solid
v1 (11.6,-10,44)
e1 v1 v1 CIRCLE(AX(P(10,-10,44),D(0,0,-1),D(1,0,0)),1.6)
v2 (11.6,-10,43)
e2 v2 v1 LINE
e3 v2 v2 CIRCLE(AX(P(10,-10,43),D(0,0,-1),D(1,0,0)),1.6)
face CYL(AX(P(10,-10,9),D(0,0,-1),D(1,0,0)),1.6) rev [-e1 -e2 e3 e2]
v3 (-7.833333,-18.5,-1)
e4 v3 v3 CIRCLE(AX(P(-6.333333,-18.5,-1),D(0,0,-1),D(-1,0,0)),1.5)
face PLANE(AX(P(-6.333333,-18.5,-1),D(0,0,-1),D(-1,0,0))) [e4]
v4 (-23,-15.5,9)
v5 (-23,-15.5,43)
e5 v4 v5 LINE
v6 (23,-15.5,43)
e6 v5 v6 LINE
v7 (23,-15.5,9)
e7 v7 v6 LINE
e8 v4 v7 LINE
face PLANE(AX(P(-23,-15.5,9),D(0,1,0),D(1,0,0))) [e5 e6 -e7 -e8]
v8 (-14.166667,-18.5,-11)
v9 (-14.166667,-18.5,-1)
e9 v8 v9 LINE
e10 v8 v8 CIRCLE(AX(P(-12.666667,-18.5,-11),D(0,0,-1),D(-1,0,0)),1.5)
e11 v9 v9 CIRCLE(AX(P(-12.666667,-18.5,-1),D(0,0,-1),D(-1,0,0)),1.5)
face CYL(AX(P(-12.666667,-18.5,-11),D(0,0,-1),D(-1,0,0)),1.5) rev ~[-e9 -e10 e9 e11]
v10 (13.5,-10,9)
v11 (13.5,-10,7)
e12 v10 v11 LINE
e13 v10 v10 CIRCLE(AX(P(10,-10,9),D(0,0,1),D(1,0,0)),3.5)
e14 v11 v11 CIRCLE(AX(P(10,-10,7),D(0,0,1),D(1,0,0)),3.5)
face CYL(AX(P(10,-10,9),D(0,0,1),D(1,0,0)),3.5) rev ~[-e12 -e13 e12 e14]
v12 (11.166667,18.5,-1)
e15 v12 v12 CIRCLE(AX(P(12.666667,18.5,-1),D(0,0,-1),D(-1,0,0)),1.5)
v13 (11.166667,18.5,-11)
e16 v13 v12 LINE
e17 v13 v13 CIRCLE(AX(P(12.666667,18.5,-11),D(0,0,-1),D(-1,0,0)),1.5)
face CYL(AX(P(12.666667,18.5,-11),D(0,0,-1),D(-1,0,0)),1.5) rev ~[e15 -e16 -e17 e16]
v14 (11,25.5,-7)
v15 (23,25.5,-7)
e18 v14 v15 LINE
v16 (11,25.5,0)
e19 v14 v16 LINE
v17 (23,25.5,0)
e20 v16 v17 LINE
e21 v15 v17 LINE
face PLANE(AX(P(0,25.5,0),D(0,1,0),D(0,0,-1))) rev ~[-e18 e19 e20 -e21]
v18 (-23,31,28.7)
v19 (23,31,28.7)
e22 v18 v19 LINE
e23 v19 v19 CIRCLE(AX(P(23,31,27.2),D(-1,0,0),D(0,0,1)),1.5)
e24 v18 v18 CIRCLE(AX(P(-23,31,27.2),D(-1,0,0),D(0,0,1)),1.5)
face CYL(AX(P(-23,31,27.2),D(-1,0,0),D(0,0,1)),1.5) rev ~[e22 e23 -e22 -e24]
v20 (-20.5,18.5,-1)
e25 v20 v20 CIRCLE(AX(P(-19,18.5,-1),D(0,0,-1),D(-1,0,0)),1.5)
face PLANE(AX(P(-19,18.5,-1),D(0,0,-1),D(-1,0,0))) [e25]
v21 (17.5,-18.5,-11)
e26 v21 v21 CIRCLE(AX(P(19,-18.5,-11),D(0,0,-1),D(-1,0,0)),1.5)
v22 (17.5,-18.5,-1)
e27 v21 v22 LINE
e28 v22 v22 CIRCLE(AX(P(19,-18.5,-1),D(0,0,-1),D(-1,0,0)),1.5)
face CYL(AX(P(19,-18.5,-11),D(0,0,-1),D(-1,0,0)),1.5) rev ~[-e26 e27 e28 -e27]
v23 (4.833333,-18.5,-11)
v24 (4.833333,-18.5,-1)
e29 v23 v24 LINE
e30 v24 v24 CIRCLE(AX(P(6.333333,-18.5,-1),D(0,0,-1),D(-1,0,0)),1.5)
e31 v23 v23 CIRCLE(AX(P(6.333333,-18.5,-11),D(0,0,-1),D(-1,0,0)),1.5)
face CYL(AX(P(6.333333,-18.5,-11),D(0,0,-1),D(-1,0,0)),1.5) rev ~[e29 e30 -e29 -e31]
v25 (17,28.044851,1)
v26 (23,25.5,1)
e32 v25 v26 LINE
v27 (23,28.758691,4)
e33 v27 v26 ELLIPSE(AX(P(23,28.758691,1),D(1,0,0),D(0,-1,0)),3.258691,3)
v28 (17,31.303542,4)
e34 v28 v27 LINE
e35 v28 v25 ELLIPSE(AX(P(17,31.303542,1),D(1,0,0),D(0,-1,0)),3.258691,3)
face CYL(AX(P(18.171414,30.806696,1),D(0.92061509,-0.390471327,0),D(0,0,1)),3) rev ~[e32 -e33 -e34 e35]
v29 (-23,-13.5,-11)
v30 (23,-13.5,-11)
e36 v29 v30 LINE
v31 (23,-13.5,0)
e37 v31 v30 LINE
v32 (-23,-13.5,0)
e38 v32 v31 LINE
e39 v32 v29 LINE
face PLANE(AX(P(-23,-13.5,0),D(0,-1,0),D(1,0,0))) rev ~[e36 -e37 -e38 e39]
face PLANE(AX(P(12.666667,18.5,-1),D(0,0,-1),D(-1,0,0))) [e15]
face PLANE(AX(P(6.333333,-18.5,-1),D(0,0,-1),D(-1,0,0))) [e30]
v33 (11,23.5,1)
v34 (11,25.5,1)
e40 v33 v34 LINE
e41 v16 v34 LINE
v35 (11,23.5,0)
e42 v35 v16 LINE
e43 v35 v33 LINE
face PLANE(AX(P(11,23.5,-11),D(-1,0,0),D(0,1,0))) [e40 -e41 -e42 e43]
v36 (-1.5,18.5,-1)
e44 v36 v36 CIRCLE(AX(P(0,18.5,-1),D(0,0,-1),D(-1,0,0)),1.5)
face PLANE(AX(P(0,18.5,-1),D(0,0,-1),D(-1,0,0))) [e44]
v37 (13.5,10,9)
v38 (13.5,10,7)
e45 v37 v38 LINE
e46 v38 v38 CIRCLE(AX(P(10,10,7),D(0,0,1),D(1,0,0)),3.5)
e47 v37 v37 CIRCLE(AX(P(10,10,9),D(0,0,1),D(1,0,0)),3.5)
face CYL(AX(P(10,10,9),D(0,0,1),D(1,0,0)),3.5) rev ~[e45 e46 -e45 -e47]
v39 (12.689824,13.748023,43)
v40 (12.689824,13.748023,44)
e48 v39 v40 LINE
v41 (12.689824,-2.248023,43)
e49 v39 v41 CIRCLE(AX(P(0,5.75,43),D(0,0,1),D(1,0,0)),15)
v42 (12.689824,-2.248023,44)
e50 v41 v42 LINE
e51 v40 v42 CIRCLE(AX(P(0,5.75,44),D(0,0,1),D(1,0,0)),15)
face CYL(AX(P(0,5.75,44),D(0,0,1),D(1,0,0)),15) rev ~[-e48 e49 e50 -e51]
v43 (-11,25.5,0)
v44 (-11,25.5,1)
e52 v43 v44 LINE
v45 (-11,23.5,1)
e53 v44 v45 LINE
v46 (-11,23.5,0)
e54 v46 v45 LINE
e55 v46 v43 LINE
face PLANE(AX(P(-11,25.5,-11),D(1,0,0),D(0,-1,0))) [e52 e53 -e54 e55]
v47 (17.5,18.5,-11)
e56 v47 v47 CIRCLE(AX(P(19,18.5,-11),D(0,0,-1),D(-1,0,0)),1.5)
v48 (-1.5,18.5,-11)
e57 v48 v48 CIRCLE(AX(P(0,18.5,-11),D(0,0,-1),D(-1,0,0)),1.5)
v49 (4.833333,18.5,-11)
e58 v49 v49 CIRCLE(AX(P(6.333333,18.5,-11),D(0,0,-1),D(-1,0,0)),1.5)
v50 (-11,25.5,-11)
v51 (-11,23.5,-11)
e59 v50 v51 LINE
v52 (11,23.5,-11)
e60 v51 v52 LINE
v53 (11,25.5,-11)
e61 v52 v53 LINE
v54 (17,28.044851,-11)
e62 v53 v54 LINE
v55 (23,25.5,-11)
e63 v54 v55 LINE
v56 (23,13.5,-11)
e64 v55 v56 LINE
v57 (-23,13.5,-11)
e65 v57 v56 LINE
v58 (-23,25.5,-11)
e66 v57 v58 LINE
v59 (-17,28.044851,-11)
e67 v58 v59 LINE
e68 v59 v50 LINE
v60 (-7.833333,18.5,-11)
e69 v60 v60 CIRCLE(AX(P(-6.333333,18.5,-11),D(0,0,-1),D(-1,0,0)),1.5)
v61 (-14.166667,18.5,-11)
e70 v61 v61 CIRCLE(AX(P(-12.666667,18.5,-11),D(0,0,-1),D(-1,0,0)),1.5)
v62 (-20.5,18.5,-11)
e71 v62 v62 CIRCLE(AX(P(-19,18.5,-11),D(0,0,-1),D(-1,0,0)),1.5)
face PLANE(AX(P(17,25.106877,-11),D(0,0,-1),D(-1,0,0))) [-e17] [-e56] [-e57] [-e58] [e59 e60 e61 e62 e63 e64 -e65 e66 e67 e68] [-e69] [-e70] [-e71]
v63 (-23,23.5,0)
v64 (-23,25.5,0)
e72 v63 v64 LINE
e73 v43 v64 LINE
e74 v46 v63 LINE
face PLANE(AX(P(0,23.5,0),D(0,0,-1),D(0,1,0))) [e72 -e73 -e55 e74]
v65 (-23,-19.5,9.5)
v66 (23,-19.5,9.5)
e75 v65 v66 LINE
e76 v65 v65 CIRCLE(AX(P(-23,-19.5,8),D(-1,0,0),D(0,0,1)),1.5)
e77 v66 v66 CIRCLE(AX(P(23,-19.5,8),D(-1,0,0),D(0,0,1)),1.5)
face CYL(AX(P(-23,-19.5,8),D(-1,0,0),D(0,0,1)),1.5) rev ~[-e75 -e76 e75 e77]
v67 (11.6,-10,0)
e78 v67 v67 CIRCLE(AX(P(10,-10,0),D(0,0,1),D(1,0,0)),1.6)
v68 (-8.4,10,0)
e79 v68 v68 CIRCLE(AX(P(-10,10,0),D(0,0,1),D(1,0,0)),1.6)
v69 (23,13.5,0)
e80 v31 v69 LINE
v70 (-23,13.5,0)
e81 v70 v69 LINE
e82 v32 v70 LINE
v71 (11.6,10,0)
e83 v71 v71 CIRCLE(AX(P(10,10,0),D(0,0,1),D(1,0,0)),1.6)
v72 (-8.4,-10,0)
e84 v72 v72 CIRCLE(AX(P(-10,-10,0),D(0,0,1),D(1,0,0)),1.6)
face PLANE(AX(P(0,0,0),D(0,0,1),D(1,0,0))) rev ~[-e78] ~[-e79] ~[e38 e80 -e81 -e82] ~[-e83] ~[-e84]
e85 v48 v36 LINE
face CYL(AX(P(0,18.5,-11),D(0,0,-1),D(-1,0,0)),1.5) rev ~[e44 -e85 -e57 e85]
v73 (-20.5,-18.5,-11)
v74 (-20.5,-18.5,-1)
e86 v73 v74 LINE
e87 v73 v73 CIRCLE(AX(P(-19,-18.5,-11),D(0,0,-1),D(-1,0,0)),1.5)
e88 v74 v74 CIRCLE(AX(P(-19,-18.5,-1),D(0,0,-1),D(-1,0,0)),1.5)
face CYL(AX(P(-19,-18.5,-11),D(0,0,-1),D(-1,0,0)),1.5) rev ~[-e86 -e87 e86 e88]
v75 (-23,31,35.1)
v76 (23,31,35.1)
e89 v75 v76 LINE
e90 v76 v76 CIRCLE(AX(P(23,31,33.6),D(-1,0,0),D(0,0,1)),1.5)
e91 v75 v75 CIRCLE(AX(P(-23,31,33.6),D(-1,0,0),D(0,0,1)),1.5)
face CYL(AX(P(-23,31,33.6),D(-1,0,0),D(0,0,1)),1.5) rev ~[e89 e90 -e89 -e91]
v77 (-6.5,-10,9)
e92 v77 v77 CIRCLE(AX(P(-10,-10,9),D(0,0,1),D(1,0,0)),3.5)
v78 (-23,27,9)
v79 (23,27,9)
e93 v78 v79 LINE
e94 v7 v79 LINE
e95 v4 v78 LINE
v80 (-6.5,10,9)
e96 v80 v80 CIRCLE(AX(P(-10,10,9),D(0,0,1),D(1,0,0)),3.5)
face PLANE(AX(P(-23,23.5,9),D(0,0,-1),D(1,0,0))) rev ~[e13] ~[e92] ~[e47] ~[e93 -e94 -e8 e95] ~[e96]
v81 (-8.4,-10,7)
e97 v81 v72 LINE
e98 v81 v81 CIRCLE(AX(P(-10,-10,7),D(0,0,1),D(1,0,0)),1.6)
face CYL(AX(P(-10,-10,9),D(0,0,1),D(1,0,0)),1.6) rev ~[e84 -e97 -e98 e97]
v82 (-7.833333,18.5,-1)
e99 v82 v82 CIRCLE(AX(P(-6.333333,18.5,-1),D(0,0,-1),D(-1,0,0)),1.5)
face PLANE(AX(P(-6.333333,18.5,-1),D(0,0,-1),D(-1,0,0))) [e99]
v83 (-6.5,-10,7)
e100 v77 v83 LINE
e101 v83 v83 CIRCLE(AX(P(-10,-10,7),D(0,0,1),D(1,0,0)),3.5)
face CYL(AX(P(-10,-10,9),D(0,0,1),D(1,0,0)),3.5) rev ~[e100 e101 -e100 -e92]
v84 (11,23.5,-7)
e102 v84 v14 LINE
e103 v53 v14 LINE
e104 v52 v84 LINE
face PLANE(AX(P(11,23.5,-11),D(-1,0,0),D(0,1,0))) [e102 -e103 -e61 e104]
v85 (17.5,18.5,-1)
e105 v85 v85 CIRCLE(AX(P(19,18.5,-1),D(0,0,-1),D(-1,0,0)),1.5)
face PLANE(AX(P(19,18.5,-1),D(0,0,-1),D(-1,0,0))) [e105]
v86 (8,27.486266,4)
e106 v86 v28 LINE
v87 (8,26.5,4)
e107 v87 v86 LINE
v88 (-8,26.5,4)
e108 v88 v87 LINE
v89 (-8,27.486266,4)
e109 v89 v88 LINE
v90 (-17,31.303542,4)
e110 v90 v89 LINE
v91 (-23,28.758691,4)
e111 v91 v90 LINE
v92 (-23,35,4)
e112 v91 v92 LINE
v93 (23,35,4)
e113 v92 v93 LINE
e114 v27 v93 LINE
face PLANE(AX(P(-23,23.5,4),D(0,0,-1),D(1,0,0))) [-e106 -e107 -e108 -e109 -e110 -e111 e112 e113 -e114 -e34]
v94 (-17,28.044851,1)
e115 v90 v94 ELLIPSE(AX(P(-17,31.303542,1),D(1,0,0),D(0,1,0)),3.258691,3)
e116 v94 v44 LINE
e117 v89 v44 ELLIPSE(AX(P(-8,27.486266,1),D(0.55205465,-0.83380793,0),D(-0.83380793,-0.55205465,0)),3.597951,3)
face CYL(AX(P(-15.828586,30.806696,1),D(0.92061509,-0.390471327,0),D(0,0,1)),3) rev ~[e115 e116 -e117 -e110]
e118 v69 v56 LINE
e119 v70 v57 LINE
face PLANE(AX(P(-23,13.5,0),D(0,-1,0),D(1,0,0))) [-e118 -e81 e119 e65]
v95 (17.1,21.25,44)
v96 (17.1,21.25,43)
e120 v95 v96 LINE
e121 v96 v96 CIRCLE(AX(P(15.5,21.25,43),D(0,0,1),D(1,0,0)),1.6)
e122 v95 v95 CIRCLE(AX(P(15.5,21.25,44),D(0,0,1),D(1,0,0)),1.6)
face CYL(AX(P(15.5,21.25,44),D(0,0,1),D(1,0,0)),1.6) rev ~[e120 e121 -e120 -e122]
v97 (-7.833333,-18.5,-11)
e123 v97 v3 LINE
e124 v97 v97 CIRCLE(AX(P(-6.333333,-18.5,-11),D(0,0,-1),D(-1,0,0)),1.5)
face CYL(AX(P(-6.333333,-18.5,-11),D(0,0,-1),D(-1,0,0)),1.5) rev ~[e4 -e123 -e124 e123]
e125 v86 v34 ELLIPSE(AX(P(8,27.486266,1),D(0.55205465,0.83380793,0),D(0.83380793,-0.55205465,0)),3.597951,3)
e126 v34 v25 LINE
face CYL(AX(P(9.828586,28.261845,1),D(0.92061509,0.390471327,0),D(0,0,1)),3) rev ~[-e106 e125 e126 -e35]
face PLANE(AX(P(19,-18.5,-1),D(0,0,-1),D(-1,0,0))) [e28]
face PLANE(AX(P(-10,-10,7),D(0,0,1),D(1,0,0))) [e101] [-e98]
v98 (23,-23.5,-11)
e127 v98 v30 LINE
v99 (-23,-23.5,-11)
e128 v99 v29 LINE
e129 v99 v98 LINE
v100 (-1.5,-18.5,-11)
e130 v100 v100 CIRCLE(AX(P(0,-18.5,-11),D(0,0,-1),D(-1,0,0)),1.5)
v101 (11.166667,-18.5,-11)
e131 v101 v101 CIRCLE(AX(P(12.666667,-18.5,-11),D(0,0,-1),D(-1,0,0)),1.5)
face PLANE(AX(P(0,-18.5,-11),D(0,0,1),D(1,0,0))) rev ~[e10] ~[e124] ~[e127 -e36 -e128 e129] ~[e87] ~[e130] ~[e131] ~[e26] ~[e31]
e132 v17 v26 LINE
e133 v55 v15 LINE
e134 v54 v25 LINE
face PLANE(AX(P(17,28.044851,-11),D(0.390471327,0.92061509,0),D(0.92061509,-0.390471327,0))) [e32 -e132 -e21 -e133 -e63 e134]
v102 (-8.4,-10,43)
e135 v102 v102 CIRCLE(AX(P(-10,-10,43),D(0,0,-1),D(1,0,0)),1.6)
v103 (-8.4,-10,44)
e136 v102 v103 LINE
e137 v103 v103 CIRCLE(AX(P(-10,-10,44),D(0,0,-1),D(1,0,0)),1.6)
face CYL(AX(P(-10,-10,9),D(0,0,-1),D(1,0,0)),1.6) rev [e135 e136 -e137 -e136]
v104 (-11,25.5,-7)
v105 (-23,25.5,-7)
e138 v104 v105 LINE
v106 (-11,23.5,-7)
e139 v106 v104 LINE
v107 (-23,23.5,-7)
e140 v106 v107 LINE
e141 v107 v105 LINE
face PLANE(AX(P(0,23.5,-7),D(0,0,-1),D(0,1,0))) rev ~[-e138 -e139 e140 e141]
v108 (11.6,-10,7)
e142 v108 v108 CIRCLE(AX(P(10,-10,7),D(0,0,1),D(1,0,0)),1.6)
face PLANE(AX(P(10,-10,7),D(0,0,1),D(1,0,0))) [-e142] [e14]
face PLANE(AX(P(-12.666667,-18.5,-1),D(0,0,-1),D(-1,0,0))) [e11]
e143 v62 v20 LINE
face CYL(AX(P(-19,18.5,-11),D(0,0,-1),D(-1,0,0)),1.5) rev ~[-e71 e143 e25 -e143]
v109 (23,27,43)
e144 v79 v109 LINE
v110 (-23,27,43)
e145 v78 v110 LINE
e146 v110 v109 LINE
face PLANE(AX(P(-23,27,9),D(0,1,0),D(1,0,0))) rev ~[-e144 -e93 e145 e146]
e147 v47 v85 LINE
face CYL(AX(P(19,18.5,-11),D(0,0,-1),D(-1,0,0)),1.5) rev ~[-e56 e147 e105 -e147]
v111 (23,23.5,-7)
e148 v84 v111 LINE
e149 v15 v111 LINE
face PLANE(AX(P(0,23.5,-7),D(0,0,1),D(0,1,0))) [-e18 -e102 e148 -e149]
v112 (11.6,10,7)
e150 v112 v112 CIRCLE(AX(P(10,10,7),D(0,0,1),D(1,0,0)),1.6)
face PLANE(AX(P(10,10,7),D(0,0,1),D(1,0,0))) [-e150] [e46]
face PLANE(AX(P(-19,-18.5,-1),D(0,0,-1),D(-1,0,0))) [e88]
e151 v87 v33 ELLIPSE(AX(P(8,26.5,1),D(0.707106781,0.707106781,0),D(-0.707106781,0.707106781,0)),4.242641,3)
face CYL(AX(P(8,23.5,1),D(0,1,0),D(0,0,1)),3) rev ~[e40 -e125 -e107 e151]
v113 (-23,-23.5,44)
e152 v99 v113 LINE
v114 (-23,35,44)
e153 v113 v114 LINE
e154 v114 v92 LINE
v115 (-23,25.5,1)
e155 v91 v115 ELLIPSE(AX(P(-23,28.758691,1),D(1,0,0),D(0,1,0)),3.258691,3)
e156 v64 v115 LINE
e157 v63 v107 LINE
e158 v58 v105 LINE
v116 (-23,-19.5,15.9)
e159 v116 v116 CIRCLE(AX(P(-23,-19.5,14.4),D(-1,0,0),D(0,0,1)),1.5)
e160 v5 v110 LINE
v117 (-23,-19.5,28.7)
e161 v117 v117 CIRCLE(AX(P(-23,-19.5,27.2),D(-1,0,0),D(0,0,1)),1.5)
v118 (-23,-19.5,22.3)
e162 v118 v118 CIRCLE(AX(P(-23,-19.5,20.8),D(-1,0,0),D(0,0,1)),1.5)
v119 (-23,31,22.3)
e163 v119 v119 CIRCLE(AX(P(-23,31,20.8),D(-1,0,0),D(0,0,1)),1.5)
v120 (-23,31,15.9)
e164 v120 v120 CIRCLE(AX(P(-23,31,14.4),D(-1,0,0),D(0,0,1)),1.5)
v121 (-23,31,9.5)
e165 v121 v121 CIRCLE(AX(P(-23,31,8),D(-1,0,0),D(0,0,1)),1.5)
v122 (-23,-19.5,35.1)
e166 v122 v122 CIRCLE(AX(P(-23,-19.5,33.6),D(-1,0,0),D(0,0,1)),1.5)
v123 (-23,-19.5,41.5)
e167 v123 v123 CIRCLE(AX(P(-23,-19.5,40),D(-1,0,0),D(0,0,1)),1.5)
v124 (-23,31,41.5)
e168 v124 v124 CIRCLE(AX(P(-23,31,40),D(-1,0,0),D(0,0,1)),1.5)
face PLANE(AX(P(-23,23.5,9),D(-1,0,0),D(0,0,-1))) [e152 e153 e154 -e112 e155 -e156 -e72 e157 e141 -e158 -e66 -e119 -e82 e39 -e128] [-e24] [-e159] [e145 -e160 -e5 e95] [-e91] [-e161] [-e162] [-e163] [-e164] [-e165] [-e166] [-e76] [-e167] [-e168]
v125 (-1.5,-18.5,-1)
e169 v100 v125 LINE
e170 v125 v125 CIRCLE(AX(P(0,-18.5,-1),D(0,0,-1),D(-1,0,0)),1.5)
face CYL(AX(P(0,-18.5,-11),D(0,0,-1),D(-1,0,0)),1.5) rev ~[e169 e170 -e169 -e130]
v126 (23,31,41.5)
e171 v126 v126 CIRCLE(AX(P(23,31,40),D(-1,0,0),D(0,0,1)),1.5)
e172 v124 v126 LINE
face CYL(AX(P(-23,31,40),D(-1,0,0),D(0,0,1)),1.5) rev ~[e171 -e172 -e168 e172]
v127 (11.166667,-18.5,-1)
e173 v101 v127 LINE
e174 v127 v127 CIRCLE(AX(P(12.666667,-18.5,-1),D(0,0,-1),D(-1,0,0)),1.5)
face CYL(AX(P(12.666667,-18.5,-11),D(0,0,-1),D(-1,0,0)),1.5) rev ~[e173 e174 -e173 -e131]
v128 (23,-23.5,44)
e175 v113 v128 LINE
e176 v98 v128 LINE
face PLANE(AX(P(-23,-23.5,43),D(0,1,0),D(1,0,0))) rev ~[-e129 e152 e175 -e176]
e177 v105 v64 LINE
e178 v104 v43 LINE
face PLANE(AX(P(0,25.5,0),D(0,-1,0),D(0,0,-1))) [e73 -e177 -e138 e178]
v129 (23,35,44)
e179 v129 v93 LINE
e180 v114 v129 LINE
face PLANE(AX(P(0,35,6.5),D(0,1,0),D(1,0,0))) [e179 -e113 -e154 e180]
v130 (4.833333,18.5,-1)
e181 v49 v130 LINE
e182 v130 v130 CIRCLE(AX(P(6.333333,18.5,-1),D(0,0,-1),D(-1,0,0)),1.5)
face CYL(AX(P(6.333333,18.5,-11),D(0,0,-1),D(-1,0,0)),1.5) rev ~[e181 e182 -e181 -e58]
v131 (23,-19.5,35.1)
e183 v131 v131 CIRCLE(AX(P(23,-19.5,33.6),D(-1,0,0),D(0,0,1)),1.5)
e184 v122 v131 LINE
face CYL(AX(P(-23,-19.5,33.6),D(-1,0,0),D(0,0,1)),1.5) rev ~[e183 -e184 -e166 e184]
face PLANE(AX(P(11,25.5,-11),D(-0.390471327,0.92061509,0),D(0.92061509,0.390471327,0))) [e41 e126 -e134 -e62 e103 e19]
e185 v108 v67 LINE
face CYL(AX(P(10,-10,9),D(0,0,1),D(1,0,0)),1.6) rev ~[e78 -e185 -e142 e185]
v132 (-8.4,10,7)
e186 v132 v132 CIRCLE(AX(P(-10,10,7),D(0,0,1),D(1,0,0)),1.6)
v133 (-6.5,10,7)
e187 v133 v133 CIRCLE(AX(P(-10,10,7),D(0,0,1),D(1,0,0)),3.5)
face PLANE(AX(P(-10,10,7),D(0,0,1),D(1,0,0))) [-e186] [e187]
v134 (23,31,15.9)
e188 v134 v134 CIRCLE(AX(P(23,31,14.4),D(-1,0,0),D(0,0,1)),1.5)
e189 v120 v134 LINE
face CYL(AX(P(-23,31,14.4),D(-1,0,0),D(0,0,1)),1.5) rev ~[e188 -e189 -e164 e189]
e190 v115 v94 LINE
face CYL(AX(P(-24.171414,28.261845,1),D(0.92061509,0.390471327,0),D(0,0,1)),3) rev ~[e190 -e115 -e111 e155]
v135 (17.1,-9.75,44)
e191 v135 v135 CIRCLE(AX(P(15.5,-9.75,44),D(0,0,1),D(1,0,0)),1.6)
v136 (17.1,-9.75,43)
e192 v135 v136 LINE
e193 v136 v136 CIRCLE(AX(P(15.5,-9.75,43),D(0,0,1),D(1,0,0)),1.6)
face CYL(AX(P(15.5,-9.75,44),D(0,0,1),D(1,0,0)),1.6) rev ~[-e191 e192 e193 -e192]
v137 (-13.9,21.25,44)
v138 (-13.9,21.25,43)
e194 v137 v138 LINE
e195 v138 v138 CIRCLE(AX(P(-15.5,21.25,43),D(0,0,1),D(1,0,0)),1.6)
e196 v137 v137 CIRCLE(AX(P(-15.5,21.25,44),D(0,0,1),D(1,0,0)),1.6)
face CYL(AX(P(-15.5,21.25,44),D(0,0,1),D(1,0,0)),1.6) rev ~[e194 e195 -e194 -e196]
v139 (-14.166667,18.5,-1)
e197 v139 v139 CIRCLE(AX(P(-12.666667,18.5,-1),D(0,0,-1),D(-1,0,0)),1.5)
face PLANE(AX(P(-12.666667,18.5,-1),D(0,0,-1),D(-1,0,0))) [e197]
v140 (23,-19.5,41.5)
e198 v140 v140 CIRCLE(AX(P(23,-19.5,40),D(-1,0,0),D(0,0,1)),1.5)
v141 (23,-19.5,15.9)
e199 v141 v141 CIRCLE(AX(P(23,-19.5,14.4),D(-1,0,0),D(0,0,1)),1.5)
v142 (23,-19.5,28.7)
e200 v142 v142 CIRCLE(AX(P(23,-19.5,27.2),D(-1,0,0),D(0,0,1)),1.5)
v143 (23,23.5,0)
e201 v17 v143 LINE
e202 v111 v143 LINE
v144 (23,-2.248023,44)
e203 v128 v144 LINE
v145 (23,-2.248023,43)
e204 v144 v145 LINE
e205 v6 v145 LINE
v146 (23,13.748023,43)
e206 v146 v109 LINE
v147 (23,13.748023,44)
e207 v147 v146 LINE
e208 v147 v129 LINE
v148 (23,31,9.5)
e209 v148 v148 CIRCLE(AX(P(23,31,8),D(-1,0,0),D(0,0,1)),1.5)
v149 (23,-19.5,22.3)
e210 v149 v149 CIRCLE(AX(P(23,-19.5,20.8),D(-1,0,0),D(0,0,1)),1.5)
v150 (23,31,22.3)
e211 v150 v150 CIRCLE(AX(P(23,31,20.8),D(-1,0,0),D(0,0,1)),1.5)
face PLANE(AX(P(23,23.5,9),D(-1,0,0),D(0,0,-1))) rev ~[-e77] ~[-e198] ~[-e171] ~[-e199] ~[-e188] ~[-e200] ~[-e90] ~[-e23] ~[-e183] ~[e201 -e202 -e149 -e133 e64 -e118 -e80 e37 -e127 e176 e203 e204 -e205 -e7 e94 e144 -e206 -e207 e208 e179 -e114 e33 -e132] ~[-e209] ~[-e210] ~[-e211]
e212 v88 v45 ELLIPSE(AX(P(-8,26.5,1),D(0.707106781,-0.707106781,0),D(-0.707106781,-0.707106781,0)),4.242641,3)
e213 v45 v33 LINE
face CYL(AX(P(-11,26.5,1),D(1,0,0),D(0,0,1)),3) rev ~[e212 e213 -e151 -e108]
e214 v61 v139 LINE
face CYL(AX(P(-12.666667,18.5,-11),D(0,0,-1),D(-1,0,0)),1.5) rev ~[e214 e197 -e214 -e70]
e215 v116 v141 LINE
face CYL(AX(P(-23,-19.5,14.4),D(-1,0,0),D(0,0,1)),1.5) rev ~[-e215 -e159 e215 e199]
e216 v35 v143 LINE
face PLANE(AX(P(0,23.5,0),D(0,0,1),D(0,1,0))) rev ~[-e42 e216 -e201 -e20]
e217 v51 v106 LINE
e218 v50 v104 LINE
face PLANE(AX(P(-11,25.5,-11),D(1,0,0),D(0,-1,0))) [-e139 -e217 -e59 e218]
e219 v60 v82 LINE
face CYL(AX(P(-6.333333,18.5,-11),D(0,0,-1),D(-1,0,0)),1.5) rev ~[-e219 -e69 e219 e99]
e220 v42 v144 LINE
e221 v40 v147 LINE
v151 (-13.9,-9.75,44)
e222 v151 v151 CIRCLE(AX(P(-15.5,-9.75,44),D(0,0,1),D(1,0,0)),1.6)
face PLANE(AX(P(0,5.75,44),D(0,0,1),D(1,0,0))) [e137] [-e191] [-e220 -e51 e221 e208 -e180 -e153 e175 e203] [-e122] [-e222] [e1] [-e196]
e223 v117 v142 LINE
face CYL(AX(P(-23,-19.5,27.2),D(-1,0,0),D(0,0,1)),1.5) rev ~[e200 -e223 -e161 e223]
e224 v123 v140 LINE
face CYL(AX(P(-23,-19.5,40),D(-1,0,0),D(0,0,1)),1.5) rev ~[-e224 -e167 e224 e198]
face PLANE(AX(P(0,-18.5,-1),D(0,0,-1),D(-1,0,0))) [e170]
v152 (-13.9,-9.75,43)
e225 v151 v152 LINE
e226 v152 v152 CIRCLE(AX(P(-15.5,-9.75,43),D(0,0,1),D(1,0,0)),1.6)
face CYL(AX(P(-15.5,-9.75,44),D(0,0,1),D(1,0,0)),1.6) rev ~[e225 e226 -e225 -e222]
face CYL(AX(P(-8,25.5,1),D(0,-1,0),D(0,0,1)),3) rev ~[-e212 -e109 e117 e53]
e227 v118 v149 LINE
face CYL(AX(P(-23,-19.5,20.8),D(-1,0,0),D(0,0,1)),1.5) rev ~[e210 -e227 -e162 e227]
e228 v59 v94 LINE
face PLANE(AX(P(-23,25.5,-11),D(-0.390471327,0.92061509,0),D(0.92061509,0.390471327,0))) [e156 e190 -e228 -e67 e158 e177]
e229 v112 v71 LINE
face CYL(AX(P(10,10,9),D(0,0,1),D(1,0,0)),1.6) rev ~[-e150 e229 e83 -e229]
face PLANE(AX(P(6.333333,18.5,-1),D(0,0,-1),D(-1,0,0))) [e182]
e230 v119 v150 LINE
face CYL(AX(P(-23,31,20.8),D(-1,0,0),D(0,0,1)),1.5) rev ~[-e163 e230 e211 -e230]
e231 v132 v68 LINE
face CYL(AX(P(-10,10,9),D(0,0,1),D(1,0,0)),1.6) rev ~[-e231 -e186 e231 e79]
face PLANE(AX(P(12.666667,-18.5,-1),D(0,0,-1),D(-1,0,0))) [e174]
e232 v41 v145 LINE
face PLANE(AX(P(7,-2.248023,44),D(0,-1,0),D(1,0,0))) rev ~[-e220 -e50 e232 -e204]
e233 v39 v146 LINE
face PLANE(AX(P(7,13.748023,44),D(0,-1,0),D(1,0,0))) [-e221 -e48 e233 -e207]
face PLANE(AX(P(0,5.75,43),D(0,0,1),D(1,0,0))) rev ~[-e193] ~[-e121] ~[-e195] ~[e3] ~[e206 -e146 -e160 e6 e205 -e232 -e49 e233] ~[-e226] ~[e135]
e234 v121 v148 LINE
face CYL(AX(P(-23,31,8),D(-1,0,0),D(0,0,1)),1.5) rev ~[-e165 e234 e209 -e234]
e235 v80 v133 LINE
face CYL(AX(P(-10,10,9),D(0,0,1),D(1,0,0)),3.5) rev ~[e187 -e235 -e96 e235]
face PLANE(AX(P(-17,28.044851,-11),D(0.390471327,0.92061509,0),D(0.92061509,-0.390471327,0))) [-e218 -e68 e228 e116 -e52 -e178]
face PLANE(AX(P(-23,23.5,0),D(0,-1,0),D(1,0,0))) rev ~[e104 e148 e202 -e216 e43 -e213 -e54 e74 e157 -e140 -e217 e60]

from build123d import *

# Parameters (mm, degrees)
SKETCH1_W               = 46
SKETCH1_H               = 47
BOSS_EXTRUDE1_DEPTH     = 9
SKETCH3_W               = 46
SKETCH3_H               = 10
BOSS_EXTRUDE2_DEPTH     = 11
BOSS_EXTRUDE5_DEPTH     = 15
SKETCH8_W               = 7
SKETCH8_H               = 2
CUT_EXTRUDE3_DEPTH      = 24
CUT_EXTRUDE3_DEPTH_BACK = 24
SKETCH11_W              = 46
SKETCH11_H              = 8
BOSS_EXTRUDE6_DEPTH     = 34
SKETCH12_W              = 46
SKETCH12_H              = 58.5
BOSS_EXTRUDE7_DEPTH     = 1
CUT_EXTRUDE6_REACH      = 57
SKETCH13_R              = 15
SKETCH13_R_2            = 1.6
SKETCH14_W              = 46
SKETCH14_H              = 5
BOSS_EXTRUDE8_DEPTH     = 11.5
SKETCH15_W              = 16
SKETCH15_H              = 15.996045694
CUT_EXTRUDE7_DEPTH      = 3
SKETCH2_R               = 1.6
CUT_EXTRUDE1_DEPTH      = 36
CUT_EXTRUDE1_DEPTH_BACK = 21
SKETCH9_R               = 3.5
CUT_EXTRUDE4_DEPTH      = 2
FILLET1_R               = 3
SKETCH17_R              = 1.5
CUT_EXTRUDE8_DEPTH      = 47
SKETCH20_R              = 1.5
CUT_EXTRUDE10_DEPTH     = 10


with BuildPart() as part:
    # Sketch1 → Boss-Extrude1 (new body)
    with BuildSketch(Plane.XY):
        Rectangle(SKETCH1_W, SKETCH1_H)
    extrude(amount=BOSS_EXTRUDE1_DEPTH)

    # Sketch3 → Boss-Extrude2 (add)
    with BuildSketch(Plane.XY):
        with Locations((0, 18.5)):
            Rectangle(SKETCH3_W, SKETCH3_H)
        with Locations((0, -18.5)):
            Rectangle(SKETCH3_W, SKETCH3_H)
    extrude(amount=-BOSS_EXTRUDE2_DEPTH)

    # Sketch7 → Boss-Extrude5 (add)
    with BuildSketch(Plane(origin=(0, 0, -11), x_dir=(-1, 0, 0), z_dir=(0, 0, -1))):
        Polygon((-23, 23.5), (-11, 23.5), (-11, 25.5), (-17, 28.044850705), (-23, 25.5), align=None)
        Polygon((17, 28.044850705), (11, 25.5), (11, 23.5), (23, 23.5), (23, 25.5), align=None)
    extrude(amount=-BOSS_EXTRUDE5_DEPTH)

    # Sketch8 → Cut-Extrude3 (cut, two sides)
    with BuildSketch(Plane(origin=(0, 0, 0), x_dir=(0, 0, -1), z_dir=(1, 0, 0))) as cut_extrude3_sk:
        with Locations((3.5, 24.5)):
            Rectangle(SKETCH8_W, SKETCH8_H)
    extrude(amount=CUT_EXTRUDE3_DEPTH, mode=Mode.SUBTRACT)
    extrude(cut_extrude3_sk.sketch, amount=-CUT_EXTRUDE3_DEPTH_BACK, mode=Mode.SUBTRACT)

    # Sketch11 → Boss-Extrude6 (add)
    with BuildSketch(Plane.XY.offset(9)):
        with Locations((0, -19.5)):
            Rectangle(SKETCH11_W, SKETCH11_H)
        with Locations((0, 31)):
            Rectangle(SKETCH11_W, SKETCH11_H)
    extrude(amount=BOSS_EXTRUDE6_DEPTH)

    # Sketch12 → Boss-Extrude7 (add)
    with BuildSketch(Plane.XY.offset(43)):
        with Locations((0, 5.75)):
            Rectangle(SKETCH12_W, SKETCH12_H)
    extrude(amount=BOSS_EXTRUDE7_DEPTH)

    # Sketch13 → Cut-Extrude6 (cut, up to next)
    with BuildSketch(Plane.XY.offset(44), mode=Mode.PRIVATE) as cut_extrude6_sk1:
        with Locations((0, 5.75)):
            Circle(SKETCH13_R)
    cut_extrude6_tool1 = extrude(cut_extrude6_sk1.sketch, amount=-CUT_EXTRUDE6_REACH, mode=Mode.PRIVATE) & part.part
    add(cut_extrude6_tool1.solids().sort_by_distance((0, 5.75, 44))[0], mode=Mode.SUBTRACT)
    # Sketch13 → Cut-Extrude6 (cut, up to next)
    with BuildSketch(Plane.XY.offset(44), mode=Mode.PRIVATE) as cut_extrude6_sk2:
        with Locations((-15.5, 21.25)):
            Circle(SKETCH13_R_2)
    cut_extrude6_tool2 = extrude(cut_extrude6_sk2.sketch, amount=-CUT_EXTRUDE6_REACH, mode=Mode.PRIVATE) & part.part
    add(cut_extrude6_tool2.solids().sort_by_distance((-15.5, 21.25, 44))[0], mode=Mode.SUBTRACT)
    # Sketch13 → Cut-Extrude6 (cut, up to next)
    with BuildSketch(Plane.XY.offset(44), mode=Mode.PRIVATE) as cut_extrude6_sk3:
        with Locations((15.5, 21.25)):
            Circle(SKETCH13_R_2)
    cut_extrude6_tool3 = extrude(cut_extrude6_sk3.sketch, amount=-CUT_EXTRUDE6_REACH, mode=Mode.PRIVATE) & part.part
    add(cut_extrude6_tool3.solids().sort_by_distance((15.5, 21.25, 44))[0], mode=Mode.SUBTRACT)
    # Sketch13 → Cut-Extrude6 (cut, up to next)
    with BuildSketch(Plane.XY.offset(44), mode=Mode.PRIVATE) as cut_extrude6_sk4:
        with Locations((15.5, -9.75)):
            Circle(SKETCH13_R_2)
    cut_extrude6_tool4 = extrude(cut_extrude6_sk4.sketch, amount=-CUT_EXTRUDE6_REACH, mode=Mode.PRIVATE) & part.part
    add(cut_extrude6_tool4.solids().sort_by_distance((15.5, -9.75, 44))[0], mode=Mode.SUBTRACT)
    # Sketch13 → Cut-Extrude6 (cut, up to next)
    with BuildSketch(Plane.XY.offset(44), mode=Mode.PRIVATE) as cut_extrude6_sk5:
        with Locations((-15.5, -9.75)):
            Circle(SKETCH13_R_2)
    cut_extrude6_tool5 = extrude(cut_extrude6_sk5.sketch, amount=-CUT_EXTRUDE6_REACH, mode=Mode.PRIVATE) & part.part
    add(cut_extrude6_tool5.solids().sort_by_distance((-15.5, -9.75, 44))[0], mode=Mode.SUBTRACT)

    # Sketch14 → Boss-Extrude8 (add)
    with BuildSketch(Plane(origin=(0, 23.5, 0), x_dir=(1, 0, 0), z_dir=(0, 1, 0))):
        with Locations((0, -6.5)):
            Rectangle(SKETCH14_W, SKETCH14_H)
    extrude(amount=BOSS_EXTRUDE8_DEPTH)

    # Sketch15 → Cut-Extrude7 (cut)
    with BuildSketch(Plane.XY.offset(44)):
        with Locations((15, 5.75)):
            Rectangle(SKETCH15_W, SKETCH15_H)
    extrude(amount=-CUT_EXTRUDE7_DEPTH, mode=Mode.SUBTRACT)

    # Sketch2 → Cut-Extrude1 (cut, two sides)
    with BuildSketch(Plane.XY.offset(9)) as cut_extrude1_sk:
        with Locations((-10, 10)):
            Circle(SKETCH2_R)
        with Locations((10, 10)):
            Circle(SKETCH2_R)
        with Locations((-10, -10)):
            Circle(SKETCH2_R)
        with Locations((10, -10)):
            Circle(SKETCH2_R)
    extrude(amount=CUT_EXTRUDE1_DEPTH, mode=Mode.SUBTRACT)
    extrude(cut_extrude1_sk.sketch, amount=-CUT_EXTRUDE1_DEPTH_BACK, mode=Mode.SUBTRACT)

    # Sketch9 → Cut-Extrude4 (cut)
    with BuildSketch(Plane.XY.offset(9)):
        with Locations((-10, 10)):
            Circle(SKETCH9_R)
        with Locations((10, 10)):
            Circle(SKETCH9_R)
        with Locations((10, -10)):
            Circle(SKETCH9_R)
        with Locations((-10, -10)):
            Circle(SKETCH9_R)
    extrude(amount=-CUT_EXTRUDE4_DEPTH, mode=Mode.SUBTRACT)

    # Fillet1
    fillet1_edges = [part.edges().sort_by_distance(p)[0] for p in [
        (20, 26.772425352, 4),
        (14, 26.772425352, 4),
        (11, 24.5, 4),
        (-20, 26.772425352, 4),
        (-11, 24.5, 4),
        (-14, 26.772425352, 4),
        (0, 23.5, 4),
    ]]
    fillet(fillet1_edges, radius=FILLET1_R)

    # Sketch17 → Cut-Extrude8 (cut, through all)
    with BuildSketch(Plane.ZY.offset(23)):
        with Locations((40, -19.5)):
            Circle(SKETCH17_R)
        with Locations((33.6, -19.5)):
            Circle(SKETCH17_R)
        with Locations((27.2, -19.5)):
            Circle(SKETCH17_R)
        with Locations((20.8, -19.5)):
            Circle(SKETCH17_R)
        with Locations((14.4, -19.5)):
            Circle(SKETCH17_R)
        with Locations((8, -19.5)):
            Circle(SKETCH17_R)
        with Locations((33.6, 31)):
            Circle(SKETCH17_R)
        with Locations((27.2, 31)):
            Circle(SKETCH17_R)
        with Locations((20.8, 31)):
            Circle(SKETCH17_R)
        with Locations((14.4, 31)):
            Circle(SKETCH17_R)
        with Locations((8, 31)):
            Circle(SKETCH17_R)
        with Locations((40, 31)):
            Circle(SKETCH17_R)
    extrude(amount=-CUT_EXTRUDE8_DEPTH, mode=Mode.SUBTRACT)

    # Sketch20 → Cut-Extrude10 (cut)
    with BuildSketch(Plane(origin=(0, 0, -11), x_dir=(-1, 0, 0), z_dir=(0, 0, -1))):
        with Locations((-19, -18.5)):
            Circle(SKETCH20_R)
        with Locations((-12.666666667, -18.5)):
            Circle(SKETCH20_R)
        with Locations((-6.333333333, -18.5)):
            Circle(SKETCH20_R)
        with Locations((0, -18.5)):
            Circle(SKETCH20_R)
        with Locations((6.333333333, -18.5)):
            Circle(SKETCH20_R)
        with Locations((12.666666667, -18.5)):
            Circle(SKETCH20_R)
        with Locations((19, -18.5)):
            Circle(SKETCH20_R)
        with Locations((-19, 18.5)):
            Circle(SKETCH20_R)
        with Locations((-12.666666667, 18.5)):
            Circle(SKETCH20_R)
        with Locations((-6.333333333, 18.5)):
            Circle(SKETCH20_R)
        with Locations((0, 18.5)):
            Circle(SKETCH20_R)
        with Locations((6.333333333, 18.5)):
            Circle(SKETCH20_R)
        with Locations((12.666666667, 18.5)):
            Circle(SKETCH20_R)
        with Locations((19, 18.5)):
            Circle(SKETCH20_R)
    extrude(amount=-CUT_EXTRUDE10_DEPTH, mode=Mode.SUBTRACT)


solid = part.part
